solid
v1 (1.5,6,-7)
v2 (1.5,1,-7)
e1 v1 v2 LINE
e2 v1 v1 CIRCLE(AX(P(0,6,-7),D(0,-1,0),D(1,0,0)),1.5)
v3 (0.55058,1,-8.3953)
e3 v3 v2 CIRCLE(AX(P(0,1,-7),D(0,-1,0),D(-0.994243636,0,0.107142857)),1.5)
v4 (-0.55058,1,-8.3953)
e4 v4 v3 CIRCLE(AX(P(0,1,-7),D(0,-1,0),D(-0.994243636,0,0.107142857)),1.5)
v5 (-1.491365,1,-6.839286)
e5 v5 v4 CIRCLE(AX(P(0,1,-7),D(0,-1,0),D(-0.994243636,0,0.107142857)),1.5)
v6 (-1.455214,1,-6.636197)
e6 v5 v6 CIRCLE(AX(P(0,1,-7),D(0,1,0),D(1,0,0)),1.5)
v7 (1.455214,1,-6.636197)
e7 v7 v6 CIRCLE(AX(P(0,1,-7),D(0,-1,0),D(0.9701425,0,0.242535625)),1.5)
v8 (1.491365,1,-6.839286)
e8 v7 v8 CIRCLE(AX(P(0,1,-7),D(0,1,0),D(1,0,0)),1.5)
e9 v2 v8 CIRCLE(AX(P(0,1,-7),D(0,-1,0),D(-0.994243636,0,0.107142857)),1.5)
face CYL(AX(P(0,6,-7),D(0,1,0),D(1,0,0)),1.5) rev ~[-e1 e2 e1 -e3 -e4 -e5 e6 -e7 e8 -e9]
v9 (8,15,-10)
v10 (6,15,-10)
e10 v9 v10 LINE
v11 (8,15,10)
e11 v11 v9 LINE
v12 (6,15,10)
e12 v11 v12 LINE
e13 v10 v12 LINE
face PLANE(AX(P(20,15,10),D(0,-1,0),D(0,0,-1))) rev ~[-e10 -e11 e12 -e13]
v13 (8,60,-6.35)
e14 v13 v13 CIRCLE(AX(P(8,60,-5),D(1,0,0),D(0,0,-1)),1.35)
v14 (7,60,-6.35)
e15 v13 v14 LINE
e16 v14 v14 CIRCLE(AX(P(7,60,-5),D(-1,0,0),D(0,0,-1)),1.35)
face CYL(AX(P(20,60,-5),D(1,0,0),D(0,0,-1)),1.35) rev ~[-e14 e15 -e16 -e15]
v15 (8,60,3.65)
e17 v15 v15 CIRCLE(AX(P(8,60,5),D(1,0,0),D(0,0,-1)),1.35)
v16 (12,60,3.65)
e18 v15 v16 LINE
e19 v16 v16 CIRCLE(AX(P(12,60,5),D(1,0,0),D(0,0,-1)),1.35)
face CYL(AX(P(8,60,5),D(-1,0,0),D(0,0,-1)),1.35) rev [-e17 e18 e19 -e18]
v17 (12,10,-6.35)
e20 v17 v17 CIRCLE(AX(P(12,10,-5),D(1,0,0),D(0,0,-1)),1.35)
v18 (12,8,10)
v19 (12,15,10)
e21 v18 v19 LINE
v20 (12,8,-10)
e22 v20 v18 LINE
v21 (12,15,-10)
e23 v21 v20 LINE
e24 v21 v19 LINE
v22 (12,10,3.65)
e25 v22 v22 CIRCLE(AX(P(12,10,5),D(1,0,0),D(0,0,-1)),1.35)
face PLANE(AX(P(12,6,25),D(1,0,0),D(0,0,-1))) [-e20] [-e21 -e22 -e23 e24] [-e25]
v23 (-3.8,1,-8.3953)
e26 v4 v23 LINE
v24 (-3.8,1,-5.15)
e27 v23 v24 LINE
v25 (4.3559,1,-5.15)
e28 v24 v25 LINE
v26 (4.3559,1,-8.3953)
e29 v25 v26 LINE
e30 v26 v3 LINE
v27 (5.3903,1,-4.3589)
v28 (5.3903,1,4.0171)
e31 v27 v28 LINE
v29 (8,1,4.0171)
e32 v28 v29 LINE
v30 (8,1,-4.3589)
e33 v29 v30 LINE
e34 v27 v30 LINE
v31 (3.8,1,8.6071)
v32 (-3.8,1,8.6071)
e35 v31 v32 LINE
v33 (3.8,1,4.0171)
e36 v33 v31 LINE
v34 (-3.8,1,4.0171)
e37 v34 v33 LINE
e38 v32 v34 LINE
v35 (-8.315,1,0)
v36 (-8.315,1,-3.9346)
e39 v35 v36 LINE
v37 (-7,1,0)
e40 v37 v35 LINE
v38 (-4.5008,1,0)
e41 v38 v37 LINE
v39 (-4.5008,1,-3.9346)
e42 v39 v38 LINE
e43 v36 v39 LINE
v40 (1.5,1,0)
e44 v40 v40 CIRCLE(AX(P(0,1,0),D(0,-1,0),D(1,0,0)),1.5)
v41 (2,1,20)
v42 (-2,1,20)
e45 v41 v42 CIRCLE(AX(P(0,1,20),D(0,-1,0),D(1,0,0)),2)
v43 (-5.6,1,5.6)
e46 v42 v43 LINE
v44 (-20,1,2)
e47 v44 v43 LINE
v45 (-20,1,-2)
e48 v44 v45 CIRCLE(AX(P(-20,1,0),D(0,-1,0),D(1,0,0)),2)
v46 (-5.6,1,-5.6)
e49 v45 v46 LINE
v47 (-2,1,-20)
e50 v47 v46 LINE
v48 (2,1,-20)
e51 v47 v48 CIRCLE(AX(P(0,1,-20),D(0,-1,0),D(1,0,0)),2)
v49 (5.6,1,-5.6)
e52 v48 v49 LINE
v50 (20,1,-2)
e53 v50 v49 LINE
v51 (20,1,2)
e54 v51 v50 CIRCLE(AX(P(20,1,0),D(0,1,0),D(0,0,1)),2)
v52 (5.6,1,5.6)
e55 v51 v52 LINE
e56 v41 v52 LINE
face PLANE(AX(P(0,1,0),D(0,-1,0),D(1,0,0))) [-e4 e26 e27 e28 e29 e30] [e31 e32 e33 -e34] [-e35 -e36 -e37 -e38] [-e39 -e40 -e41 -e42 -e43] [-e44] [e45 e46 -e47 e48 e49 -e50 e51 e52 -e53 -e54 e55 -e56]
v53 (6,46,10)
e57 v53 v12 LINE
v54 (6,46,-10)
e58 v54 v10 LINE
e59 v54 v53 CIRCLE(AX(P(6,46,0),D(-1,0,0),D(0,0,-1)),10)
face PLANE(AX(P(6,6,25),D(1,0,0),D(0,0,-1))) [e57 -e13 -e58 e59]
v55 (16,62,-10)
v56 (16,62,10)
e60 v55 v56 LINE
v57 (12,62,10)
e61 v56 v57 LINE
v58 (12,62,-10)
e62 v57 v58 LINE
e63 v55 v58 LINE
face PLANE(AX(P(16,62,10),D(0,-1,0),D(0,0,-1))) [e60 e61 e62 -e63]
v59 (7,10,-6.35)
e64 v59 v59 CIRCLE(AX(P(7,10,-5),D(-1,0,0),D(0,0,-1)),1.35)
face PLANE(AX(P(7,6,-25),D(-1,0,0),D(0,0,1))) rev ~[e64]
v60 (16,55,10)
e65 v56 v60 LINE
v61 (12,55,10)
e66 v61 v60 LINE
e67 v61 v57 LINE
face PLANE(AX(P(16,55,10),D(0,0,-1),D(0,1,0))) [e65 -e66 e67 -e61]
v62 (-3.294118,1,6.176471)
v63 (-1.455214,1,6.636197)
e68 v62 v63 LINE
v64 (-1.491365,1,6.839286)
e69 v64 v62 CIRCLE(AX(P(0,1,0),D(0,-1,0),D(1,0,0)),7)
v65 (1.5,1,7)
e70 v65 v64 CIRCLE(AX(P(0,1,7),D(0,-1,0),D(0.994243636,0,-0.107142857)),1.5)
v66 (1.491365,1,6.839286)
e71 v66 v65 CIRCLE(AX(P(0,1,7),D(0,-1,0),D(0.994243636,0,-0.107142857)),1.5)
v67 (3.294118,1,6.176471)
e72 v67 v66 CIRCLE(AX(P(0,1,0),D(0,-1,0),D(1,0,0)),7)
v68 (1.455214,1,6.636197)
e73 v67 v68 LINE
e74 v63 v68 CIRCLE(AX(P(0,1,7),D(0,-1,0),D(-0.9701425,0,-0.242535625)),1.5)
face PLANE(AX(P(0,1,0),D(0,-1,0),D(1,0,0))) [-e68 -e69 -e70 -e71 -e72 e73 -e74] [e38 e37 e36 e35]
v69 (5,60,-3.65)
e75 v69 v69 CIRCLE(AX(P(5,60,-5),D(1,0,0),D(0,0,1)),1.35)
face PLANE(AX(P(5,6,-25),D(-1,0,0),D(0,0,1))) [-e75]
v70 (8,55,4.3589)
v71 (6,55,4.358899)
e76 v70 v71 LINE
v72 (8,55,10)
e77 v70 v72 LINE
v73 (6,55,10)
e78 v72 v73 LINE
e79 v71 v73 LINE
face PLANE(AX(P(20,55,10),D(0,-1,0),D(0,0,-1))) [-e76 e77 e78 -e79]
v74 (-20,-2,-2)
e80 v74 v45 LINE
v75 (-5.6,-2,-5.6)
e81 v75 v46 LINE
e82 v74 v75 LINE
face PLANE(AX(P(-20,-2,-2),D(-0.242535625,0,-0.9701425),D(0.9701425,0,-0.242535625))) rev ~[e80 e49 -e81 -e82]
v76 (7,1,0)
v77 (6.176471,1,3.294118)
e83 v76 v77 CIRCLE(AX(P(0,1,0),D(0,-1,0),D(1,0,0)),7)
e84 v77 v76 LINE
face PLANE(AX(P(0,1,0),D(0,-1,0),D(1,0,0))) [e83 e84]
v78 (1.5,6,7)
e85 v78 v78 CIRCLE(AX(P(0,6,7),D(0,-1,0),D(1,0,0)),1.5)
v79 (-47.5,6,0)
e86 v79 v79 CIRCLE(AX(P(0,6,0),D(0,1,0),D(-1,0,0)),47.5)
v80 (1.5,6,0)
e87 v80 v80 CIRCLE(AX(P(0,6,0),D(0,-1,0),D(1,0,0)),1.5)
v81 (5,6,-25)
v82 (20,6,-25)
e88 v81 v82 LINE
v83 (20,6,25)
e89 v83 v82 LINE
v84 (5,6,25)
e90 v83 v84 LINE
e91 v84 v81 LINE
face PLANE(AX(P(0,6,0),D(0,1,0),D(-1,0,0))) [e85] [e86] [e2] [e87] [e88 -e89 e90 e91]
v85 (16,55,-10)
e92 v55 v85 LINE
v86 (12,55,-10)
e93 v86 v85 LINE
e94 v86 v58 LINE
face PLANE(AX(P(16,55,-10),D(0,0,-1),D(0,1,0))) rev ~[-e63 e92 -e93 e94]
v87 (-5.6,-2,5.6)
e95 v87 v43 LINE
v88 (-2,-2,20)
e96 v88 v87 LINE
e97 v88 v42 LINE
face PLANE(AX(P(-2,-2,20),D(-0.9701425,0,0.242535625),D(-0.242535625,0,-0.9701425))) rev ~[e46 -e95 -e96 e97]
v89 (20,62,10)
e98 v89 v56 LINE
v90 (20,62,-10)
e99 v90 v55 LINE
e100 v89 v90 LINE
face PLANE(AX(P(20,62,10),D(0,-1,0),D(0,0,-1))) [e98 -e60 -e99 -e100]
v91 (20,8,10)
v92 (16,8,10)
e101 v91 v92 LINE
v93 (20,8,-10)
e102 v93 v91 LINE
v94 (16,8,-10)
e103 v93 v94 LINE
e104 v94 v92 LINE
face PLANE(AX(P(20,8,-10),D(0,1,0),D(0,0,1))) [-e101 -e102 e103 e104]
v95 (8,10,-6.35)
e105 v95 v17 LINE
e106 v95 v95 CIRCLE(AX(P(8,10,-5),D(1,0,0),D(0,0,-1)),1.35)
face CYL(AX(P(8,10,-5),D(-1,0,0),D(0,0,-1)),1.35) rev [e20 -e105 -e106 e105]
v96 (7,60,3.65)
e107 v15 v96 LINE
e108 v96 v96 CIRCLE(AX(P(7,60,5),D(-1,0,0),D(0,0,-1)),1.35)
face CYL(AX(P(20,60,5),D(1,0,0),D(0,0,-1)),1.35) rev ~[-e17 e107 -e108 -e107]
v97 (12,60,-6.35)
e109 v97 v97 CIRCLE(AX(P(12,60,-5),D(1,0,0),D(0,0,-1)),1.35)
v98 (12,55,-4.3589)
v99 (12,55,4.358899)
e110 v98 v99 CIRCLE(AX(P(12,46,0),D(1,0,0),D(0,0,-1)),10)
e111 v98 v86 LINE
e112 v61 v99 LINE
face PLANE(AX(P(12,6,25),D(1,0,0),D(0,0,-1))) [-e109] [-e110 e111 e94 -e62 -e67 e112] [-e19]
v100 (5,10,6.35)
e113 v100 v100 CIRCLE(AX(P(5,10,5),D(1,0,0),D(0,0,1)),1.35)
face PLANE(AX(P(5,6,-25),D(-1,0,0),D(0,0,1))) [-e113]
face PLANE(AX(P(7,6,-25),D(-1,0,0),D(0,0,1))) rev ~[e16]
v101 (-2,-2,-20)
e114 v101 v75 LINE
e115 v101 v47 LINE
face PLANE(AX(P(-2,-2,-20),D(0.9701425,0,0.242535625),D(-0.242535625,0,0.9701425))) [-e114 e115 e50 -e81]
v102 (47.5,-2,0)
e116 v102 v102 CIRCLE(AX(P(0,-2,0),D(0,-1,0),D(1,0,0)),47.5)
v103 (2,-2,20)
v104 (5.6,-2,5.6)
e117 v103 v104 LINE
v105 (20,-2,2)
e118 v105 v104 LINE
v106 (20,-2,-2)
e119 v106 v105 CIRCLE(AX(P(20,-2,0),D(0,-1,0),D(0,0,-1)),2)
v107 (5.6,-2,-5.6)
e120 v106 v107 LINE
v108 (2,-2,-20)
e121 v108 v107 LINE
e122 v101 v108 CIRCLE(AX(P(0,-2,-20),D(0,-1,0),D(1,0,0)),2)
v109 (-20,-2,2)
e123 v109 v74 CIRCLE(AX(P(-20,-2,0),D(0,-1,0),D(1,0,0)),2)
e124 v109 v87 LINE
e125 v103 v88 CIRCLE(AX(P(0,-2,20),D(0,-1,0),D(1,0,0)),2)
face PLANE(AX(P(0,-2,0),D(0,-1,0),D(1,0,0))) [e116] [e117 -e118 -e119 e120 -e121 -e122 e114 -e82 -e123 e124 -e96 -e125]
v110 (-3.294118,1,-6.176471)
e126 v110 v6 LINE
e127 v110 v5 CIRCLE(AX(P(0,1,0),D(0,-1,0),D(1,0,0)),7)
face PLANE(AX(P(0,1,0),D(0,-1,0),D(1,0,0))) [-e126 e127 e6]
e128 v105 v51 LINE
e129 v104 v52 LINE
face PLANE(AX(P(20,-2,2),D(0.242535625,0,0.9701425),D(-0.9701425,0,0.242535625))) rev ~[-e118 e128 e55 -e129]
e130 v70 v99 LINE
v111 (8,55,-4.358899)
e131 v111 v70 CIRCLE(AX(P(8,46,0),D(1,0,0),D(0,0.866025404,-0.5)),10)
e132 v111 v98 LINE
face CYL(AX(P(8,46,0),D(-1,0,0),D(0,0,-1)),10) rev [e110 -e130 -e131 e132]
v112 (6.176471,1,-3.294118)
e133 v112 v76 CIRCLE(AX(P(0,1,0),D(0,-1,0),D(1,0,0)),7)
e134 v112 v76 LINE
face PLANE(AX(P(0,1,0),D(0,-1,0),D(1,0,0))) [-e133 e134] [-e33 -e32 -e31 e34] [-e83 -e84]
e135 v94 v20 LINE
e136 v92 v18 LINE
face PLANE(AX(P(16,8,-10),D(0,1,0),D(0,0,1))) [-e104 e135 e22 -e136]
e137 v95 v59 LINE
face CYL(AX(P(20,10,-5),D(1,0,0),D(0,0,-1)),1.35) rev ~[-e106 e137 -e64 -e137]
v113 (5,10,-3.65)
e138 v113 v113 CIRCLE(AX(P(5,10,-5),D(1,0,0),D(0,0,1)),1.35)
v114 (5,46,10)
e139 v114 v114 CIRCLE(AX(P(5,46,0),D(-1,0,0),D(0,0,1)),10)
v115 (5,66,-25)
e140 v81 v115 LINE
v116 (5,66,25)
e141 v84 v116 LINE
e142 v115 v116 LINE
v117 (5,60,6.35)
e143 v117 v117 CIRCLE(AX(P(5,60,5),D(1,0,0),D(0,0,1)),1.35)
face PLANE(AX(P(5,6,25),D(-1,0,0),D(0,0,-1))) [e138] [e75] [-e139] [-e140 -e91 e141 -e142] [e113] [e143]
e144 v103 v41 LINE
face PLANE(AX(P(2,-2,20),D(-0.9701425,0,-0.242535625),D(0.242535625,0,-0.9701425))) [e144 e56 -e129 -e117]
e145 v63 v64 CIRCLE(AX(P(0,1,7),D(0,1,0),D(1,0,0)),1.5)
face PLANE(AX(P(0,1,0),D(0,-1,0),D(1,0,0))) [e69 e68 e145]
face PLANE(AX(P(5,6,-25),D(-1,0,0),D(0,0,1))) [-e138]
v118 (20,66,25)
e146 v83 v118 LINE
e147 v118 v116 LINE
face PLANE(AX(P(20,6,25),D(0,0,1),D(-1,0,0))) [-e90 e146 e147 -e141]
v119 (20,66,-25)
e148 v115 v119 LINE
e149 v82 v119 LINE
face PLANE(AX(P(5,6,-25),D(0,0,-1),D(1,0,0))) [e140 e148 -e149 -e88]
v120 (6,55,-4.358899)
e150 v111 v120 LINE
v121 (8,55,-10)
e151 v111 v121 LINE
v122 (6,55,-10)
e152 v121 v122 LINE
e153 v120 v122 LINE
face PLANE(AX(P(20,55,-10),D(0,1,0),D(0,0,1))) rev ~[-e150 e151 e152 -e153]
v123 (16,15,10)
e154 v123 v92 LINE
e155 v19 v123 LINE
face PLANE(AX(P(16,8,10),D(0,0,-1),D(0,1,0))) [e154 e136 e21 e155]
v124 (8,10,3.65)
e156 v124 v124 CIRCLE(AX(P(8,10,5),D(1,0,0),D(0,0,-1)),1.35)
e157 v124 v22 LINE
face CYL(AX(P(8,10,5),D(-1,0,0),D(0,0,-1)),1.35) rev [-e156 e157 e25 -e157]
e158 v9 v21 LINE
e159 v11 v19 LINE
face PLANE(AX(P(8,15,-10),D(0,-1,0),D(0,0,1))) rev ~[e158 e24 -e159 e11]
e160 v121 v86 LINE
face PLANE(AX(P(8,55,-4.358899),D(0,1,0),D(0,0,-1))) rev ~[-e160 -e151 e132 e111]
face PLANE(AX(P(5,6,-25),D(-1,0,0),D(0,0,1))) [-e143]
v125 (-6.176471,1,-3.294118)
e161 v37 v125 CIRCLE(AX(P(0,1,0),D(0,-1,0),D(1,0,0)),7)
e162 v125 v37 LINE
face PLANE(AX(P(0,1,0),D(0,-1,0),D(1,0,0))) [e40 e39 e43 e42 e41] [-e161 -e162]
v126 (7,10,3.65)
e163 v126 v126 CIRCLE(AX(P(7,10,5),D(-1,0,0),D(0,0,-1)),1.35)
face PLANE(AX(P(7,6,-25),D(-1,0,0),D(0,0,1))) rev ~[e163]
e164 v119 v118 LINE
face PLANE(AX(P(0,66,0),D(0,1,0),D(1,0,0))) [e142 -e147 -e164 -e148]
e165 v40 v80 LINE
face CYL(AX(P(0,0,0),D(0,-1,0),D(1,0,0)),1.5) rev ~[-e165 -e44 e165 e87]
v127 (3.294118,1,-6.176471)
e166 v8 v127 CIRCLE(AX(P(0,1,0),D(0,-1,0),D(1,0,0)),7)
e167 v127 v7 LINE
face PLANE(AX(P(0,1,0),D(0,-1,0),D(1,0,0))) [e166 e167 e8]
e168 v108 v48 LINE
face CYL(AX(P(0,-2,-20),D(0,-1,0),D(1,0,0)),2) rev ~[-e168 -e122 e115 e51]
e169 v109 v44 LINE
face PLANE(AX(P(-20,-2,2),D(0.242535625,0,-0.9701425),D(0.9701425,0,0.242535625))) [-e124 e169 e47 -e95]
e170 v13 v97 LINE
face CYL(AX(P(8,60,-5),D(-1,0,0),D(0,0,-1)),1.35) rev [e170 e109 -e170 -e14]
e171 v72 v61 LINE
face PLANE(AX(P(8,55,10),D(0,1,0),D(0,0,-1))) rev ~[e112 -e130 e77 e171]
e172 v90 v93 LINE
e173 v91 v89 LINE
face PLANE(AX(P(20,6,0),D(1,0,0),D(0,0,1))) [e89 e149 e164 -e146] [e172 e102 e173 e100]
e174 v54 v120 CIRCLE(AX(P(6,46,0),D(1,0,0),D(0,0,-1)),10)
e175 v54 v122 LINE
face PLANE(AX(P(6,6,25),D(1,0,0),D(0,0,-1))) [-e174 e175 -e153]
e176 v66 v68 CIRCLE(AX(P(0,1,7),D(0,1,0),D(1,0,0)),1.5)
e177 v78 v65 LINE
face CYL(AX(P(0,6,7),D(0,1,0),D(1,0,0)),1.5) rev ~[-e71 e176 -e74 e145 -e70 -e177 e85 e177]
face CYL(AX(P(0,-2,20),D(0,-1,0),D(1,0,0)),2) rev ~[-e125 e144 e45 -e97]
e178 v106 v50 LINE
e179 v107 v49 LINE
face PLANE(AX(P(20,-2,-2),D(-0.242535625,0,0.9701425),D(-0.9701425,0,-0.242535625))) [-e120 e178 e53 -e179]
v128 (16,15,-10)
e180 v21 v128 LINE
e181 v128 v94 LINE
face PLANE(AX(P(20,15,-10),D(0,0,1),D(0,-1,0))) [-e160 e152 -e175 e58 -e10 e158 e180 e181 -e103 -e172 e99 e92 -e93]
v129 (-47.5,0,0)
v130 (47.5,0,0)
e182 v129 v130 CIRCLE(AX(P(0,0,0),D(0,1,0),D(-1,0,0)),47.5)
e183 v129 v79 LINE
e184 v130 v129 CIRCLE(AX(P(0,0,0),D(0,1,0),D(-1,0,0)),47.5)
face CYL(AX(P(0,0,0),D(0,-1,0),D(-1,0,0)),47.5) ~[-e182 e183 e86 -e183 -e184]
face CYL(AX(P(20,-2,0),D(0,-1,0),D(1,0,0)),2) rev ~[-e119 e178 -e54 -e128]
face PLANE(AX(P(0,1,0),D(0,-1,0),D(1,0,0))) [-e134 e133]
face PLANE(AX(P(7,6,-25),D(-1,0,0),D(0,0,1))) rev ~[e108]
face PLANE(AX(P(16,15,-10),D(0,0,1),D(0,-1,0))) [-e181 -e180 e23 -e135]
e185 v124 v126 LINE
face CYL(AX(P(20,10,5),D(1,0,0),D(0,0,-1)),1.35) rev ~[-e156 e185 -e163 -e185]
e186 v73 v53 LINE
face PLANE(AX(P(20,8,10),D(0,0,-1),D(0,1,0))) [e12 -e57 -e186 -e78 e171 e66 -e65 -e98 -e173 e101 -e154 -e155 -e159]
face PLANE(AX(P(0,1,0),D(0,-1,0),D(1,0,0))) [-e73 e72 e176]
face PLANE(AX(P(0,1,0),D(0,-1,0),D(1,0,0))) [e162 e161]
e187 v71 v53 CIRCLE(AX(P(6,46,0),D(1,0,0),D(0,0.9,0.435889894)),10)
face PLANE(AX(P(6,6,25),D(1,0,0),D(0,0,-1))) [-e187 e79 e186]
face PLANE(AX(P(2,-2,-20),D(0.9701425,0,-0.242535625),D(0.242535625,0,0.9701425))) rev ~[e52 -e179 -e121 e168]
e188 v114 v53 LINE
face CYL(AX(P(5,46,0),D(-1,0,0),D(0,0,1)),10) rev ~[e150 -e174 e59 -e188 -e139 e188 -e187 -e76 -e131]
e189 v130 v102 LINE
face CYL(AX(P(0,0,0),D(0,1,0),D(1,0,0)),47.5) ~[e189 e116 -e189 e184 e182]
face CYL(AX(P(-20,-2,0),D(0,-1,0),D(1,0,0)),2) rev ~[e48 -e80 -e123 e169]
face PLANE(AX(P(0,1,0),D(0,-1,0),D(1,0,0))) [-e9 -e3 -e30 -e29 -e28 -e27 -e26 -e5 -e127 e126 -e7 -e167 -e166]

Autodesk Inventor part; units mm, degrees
ref_plane "YZ Plane" through (0, 0, 0) normal (1, 0, 0) x (0, 1, 0)
ref_plane "XZ Plane" through (0, 0, 0) normal (0, 1, 0) x (-1, 0, 0)
ref_plane "XY Plane" through (0, 0, 0) normal (0, 0, 1) x (1, 0, 0)
sketch "Sketch1" plane through (0, 0, 0) normal (0, 1, 0) x (-1, 0, 0)
  circle A0 centre (0, 0) radius 47.5
  dimension "d0" = 95
extrude "Extrusion1" add sketch "Sketch1" along normal blind 6
sketch "Sketch2" plane through (0, 6, 0) normal (0, 1, 0) x (1, 0, 0)
  circle A0 centre (0, 0) radius 7
  circle A1 centre (0, -7) radius 1.5
  circle A2 centre (0, 7) radius 1.5
  dimension "d3" = 14
  dimension "d4" = 3
  dimension "d5" = 3
extrude "Extrusion2" cut sketch "Sketch2" against normal blind 6 contours A2 A0 | A0 A2 | A1 A0 | A0 A1
sketch "Sketch3" plane through (0, 6, 0) normal (0, 1, 0) x (1, 0, 0)
  line L0 (0, 0) -> (5, 0)
  line L1 (5, 0) -> (5, -10)
  line L2 (5, -10) -> (0, -10)
  line L3 (0, -10) -> (0, 0)
  line L4 (5, 0) -> (0, 0)
  line L5 (0, 0) -> (0, 10)
  line L6 (0, 10) -> (5, 10)
  line L7 (5, 10) -> (5, 0)
  line L8 (5, 0) -> (20, 0)
  line L9 (20, 0) -> (20, -25)
  line L10 (20, -25) -> (5, -25)
  line L11 (5, -25) -> (5, 0)
  line L12 (20, 0) -> (5, 0)
  line L13 (5, 0) -> (5, 25)
  line L14 (5, 25) -> (20, 25)
  line L15 (20, 25) -> (20, 0)
  dimension "d8" = 5
  dimension "d9" = 10
  dimension "d10" = 10
  dimension "d11" = 15
  dimension "d12" = 25
  dimension "d13" = 25
extrude "Extrusion3" add sketch "Sketch3" along normal blind 60 contours L8 L9 L10 L11 L1 | L7 L13 L14 L15 L8
sketch "Sketch4" plane through (5, 6, -25) normal (-1, 0, 0) x (0, 0, 1)
  line L0 (50, 0) -> (50, 60) projected
  line L1 (50, 0) -> (48, 0)
  line L2 (48, 0) -> (48, 40)
  line L3 (48, 40) -> (50, 40)
  line L4 (50, 40) -> (50, 0)
  circle A0 centre (25, 40) radius 10
  point P0 (25, -6)
  dimension "d16" = 2
  dimension "d17" = 40
  dimension "d18" = 20
extrude "Extrusion4" cut sketch "Sketch4" against normal blind 20 contours A0
sketch "Sketch5" plane through (20, 6, 25) normal (1, 0, 0) x (0, 0, -1)
  circle A0 centre (25, 40) radius 10 projected
  line L0 (25, 40) -> (30, 40)
  line L1 (30, 40) -> (30, 4)
  line L2 (30, 4) -> (25, 4)
  line L3 (25, 4) -> (25, 40)
  line L4 (25, 40) -> (20, 40)
  line L5 (20, 40) -> (20, 4)
  line L6 (20, 4) -> (25, 4)
  line L7 (25, 4) -> (25, 40)
  circle A1 centre (20, 4) radius 1.35
  circle A2 centre (30, 4) radius 1.35
  point P0 (25, -6)
  dimension "d21" = 5
  dimension "d22" = 36
  dimension "d23" = 5
  dimension "d24" = 36
  dimension "d25" = 2.7
  dimension "d26" = 2.7
extrude "Extrusion5" cut sketch "Sketch5" against normal blind 20 contours A1 L6 L5 | L5 L6 A1 | A2 L2 L1 | L1 L2 A2
sketch "Sketch6" plane through (20, 6, 25) normal (1, 0, 0) x (0, 0, -1)
  line L0 (25, 40) -> (30, 40)
  line L1 (30, 40) -> (30, 54)
  line L2 (30, 54) -> (25, 54)
  line L3 (25, 54) -> (25, 40)
  line L4 (25, 40) -> (20, 40)
  line L5 (20, 40) -> (20, 54)
  line L6 (20, 54) -> (25, 54)
  line L7 (25, 54) -> (25, 40)
  circle A0 centre (20, 54) radius 1.35
  circle A1 centre (30, 54) radius 1.35
  point P0 (25, -6)
  dimension "d29" = 5
  dimension "d30" = 14
  dimension "d31" = 5
  dimension "d32" = 14
  dimension "d33" = 2.7
  dimension "d34" = 2.7
extrude "Extrusion6" cut sketch "Sketch6" against normal blind 20 contours A1 L2 L1 | L1 L2 A1 | A0 L5 L6 | L6 L5 A0
sketch "Sketch7" plane through (20, 6, 25) normal (1, 0, 0) x (0, 0, -1)
  line L0 (20, 54) -> (30, 54)
  line L1 (30, 54) -> (30, 4)
  line L2 (30, 4) -> (20, 4)
  line L3 (20, 4) -> (20, 54)
  circle A0 centre (20, 54) radius 1.35 projected
  line L4 (0, 0) -> (0, 60) projected
  line L5 (20, 54) -> (0, 54)
  line L6 (0, 54) -> (0, 49)
  line L7 (0, 49) -> (20, 49)
  line L8 (20, 49) -> (20, 54)
  circle A1 centre (25, 40) radius 10 projected
  line L9 (25, 40) -> (15, 40)
  line L10 (15, 40) -> (15, 30)
  line L11 (15, 30) -> (25, 30)
  line L12 (25, 30) -> (25, 40)
  line L13 (25, 40) -> (35, 40)
  line L14 (35, 40) -> (35, 30)
  line L15 (35, 30) -> (25, 30)
  line L16 (25, 30) -> (25, 40)
  line L17 (35, 40) -> (15, 40)
  line L18 (15, 40) -> (15, 9)
  line L19 (15, 9) -> (35, 9)
  line L20 (35, 9) -> (35, 40)
  line L21 (15, 9) -> (35, 9)
  line L22 (35, 9) -> (35, 49)
  line L23 (35, 49) -> (15, 49)
  line L24 (15, 49) -> (15, 9)
  point P0 (25, -6)
  point P1 (30, 49)
  point P2 (30, 48.6603)
  point P3 (15, 49)
  point P4 (20, 48.6603)
  dimension "d37" = 10
  dimension "d38" = 50
  dimension "d39" = 5
  dimension "d40" = 10
  dimension "d41" = 10
  dimension "d42" = 10
  dimension "d43" = 31
  dimension "d44" = 40
extrude "Extrusion7" cut sketch "Sketch7" against normal blind 14 contours L3 A1 L24 L7 | L23 L22 A1 L1 | A1 L3 L11 L10 | L14 L15 L1 A1 | A1 L11 L3 | L11 L3 L19 L18 | L1 L15 A1 | L20 L19 L1 L15 | L11 L15 L1 L19 L3
sketch "Sketch8" plane through (20, 6, 25) normal (1, 0, 0) x (0, 0, -1)
  line L0 (15, 40) -> (15, 49) projected
  line L1 (15, 49) -> (35, 49)
  line L2 (35, 49) -> (35, 56)
  line L3 (35, 56) -> (15, 56)
  line L4 (15, 56) -> (15, 49)
  line L5 (35, 9) -> (15, 9) projected
  line L6 (15, 9) -> (35, 9)
  line L7 (35, 9) -> (35, 2)
  line L8 (35, 2) -> (15, 2)
  line L9 (15, 2) -> (15, 9)
  point P0 (25, -6)
  dimension "d47" = 20
  dimension "d48" = 7
  dimension "d49" = 20
  dimension "d50" = 7
sketch "Sketch9" plane through (20, 6, 25) normal (1, 0, 0) x (0, 0, -1)
  line L0 (15, 40) -> (15, 49) projected
  circle A0 centre (25, 40) radius 10 projected
  line L1 (15, 49) -> (35, 49)
  line L2 (35, 49) -> (35, 40)
  line L3 (35, 40) -> (15, 40)
  line L4 (15, 40) -> (15, 49)
  line L5 (15, 49) -> (20, 49) projected
  line L6 (20, 49) -> (20.777, 49)
  line L7 (20.777, 49) -> (20.777, 48.469)
  line L8 (20.777, 48.469) -> (20, 48.469)
  line L9 (20, 48.469) -> (20, 49)
  line L10 (30, 49) -> (35, 49) projected
  line L11 (30, 49) -> (29.2041, 49)
  line L12 (29.2041, 49) -> (29.2041, 48.469)
  line L13 (29.2041, 48.469) -> (30, 48.469)
  line L14 (30, 48.469) -> (30, 49)
  line L15 (35, 49) -> (35, 9) projected
  line L16 (15, 56) -> (35, 56)
  line L17 (35, 56) -> (35, 49)
  line L18 (35, 49) -> (15, 49)
  line L19 (15, 49) -> (15, 56)
  line L20 (15, 9) -> (15, 49) projected
  line L21 (15, 9) -> (35, 9)
  line L22 (35, 9) -> (35, 2)
  line L23 (35, 2) -> (15, 2)
  line L24 (15, 2) -> (15, 9)
  point P0 (25, -6)
  point P1 (20, 48.6603)
  point P2 (30, 48.6603)
  dimension "d51" = 7
extrude "Extrusion8" cut sketch "Sketch9" against normal blind 12 contours L19 L16 L17 L1 A0 | L9 L1 A0 | L21 L22 L23 L24 | A0 L1 L14
sketch "Sketch10" plane through (8, 60, -5) normal (1, 0, 0) x (0, 0, -1)
  line L0 (-10, -5) -> (-10, -5.3397) projected
  line L1 (-10, -5) -> (0, -5)
  line L2 (0, -5) -> (0, -5.5581)
  line L3 (0, -5.5581) -> (-10, -5.5581)
  line L4 (-10, -5.5581) -> (-10, -5)
  point P0 (-5, -60)
extrude "Extrusion9" cut sketch "Sketch10" against normal blind 2
sketch "Sketch11" plane through (5, 6, -25) normal (-1, 0, 0) x (0, 0, 1)
  point P0 (25, -6)
sketch "Sketch12" plane through (0, 0, 0) normal (0, -1, 0) x (1, 0, 0)
  circle A0 centre (0, 0) radius 1.5
  dimension "d56" = 3
extrude "Extrusion10" cut sketch "Sketch12" against normal blind 13.8125
sketch "Sketch13" plane through (0, 0, 0) normal (0, -1, 0) x (1, 0, 0)
  circle A0 centre (0, 0) radius 1.5 projected
  circle A1 centre (0, 0) radius 47.5
  circle A2 centre (0, 7) radius 1.5 projected
  circle A3 centre (0, 7) radius 1.5
  circle A4 centre (0, 0) radius 1.5
  circle A5 centre (0, -7) radius 1.5 projected
  circle A6 centre (0, -7) radius 1.5
  dimension "d59" = 3
extrude "Extrusion11" add sketch "Sketch13" along normal blind 2
sketch "Sketch14" plane through (0, -2, 0) normal (0, -1, 0) x (1, 0, 0)
  circle A0 centre (0, 0) radius 1.5 projected
  circle A1 centre (0, 0) radius 7
  line L0 (0, 0) -> (0, -20)
  line L1 (0, -20) -> (0, 20)
  line L2 (0, 0) -> (20, 0)
  line L3 (20, 0) -> (-20, 0)
  circle A2 centre (0, 20) radius 2
  circle A3 centre (-20, 0) radius 2
  circle A4 centre (0, -20) radius 2
  circle A5 centre (20, 0) radius 2
  line L4 (2, 20) -> (7, 0)
  line L5 (-2, 20) -> (-7, 0)
  line L6 (20, 25) -> (20, -25) projected
  circle A6 centre (0, 7) radius 1.5 projected
  line L7 (20, 2) -> (0, 7)
  circle A7 centre (0, -7) radius 1.5 projected
  line L8 (20, -2) -> (0, -7)
  line L9 (2, -20) -> (7, 0)
  line L10 (-2, -20) -> (-7, 0)
  line L11 (-20, 2) -> (0, 7)
  line L12 (-20, -2) -> (0, -7)
  point P0 (6.1765, 3.2941)
  point P1 (6.1765, -3.2941)
  point P2 (-6.1765, -3.2941)
  point P3 (3.2941, -6.1765)
  point P4 (1.4914, -6.8393)
  point P5 (-1.4914, -6.8393)
  point P6 (-3.2941, -6.1765)
  point P7 (-1.4552, -6.6362)
  point P8 (1.4552, -6.6362)
  point P9 (3.2941, 6.1765)
  point P10 (1.4552, 6.6362)
  point P11 (-1.4552, 6.6362)
  point P12 (-3.2941, 6.1765)
  point P13 (-1.4914, 6.8393)
  point P14 (1.4914, 6.8393)
  point P15 (5.6, 5.6)
  point P16 (-5.6, 5.6)
  point P17 (-5.6, -5.6)
  point P18 (5.6, -5.6)
  dimension "d62" = 14
  dimension "d63" = 20
  dimension "d64" = 40
  dimension "d65" = 20
  dimension "d66" = 40
  dimension "d67" = 4
  dimension "d68" = 4
  dimension "d69" = 4
  dimension "d70" = 4
extrude "Extrusion12" cut sketch "Sketch14" against normal blind 3 contours L2 L9 A1 L8 A7 L0 A0 | A0 L1 A6 L7 A1 L4 L2 | A0 L3 L5 A1 L11 A6 L1 | L0 A7 L12 A1 L10 L3 A0 | L2 A5 L8 L9 A1 | A1 L4 L7 A5 L2 | A1 L7 L4 | L9 L8 A1 | A5 L6 L2 | L2 L6 A5 | L3 A3 L11 L5 A1 | A1 L10 L12 A3 L3 | A1 L5 | A1 A6 L1 A2 L4 L7 | L8 L9 A4 L0 A7 A1 | L6 A5 | L5 L11 A1 | A1 L12 L10 | A3 | A1 L11 L5 A2 L1 A6 | A7 L0 A4 L10 L12 A1 | A2 | A4
sketch "Sketch16" plane through (0, -2, 0) normal (0, -1, 0) x (1, 0, 0)
  line L0 (-8.315, -3.9346) -> (-4.5008, -3.9346)
  line L1 (-4.5008, -3.9346) -> (-4.5008, 0)
  line L2 (-4.5008, 0) -> (-8.315, 0)
  line L3 (-8.315, 0) -> (-8.315, -3.9346)
  line L4 (-3.8, -5.15) -> (4.3559, -5.15)
  line L5 (4.3559, -5.15) -> (4.3559, -8.3953)
  line L6 (4.3559, -8.3953) -> (-3.8, -8.3953)
  line L7 (-3.8, -8.3953) -> (-3.8, -5.15)
  line L8 (-3.8, 4.0171) -> (3.8, 4.0171)
  line L9 (3.8, 4.0171) -> (3.8, 8.6071)
  line L10 (3.8, 8.6071) -> (-3.8, 8.6071)
  line L11 (-3.8, 8.6071) -> (-3.8, 4.0171)
  line L12 (6, -4.3589) -> (8, -4.3589) projected
  line L13 (5.3903, 4.0171) -> (8, 4.0171)
  line L14 (8, 4.0171) -> (8, -4.3589)
  line L15 (8, -4.3589) -> (5.3903, -4.3589)
  line L16 (5.3903, -4.3589) -> (5.3903, 4.0171)
  point P0 (0, 0)
extrude "Extrusion13" cut sketch "Sketch16" against normal blind 3
sketch "Sketch17" plane through (8, 6, 25) normal (1, 0, 0) x (0, 0, -1)
  point P0 (25, -6)
sketch "Sketch18" plane through (6, 15, 10) normal (0, 0, -1) x (-1, 0, 0)
  point P0 (6, -15)
sketch "Sketch19" plane through (6, 15, 10) normal (0, 1, 0) x (1, 0, 0)
  point P0 (-6, 10)
sketch "Sketch20" plane through (8, 6, 25) normal (1, 0, 0) x (0, 0, -1)
  line L0 (35, 56) -> (35, 2) projected
  line L1 (15, 49) -> (20.6411, 49) projected
  line L2 (35, 56) -> (15, 56)
  line L3 (15, 56) -> (15, 49)
  line L4 (15, 49) -> (35, 49)
  line L5 (35, 49) -> (35, 56)
  circle A0 centre (25, 40) radius 10 projected
  circle A1 centre (25, 40) radius 10
  line L6 (35, 40) -> (35, 9) projected
  line L7 (35, 2) -> (15, 2) projected
  line L8 (35, 9) -> (15, 9)
  line L9 (15, 9) -> (15, 2)
  line L10 (15, 2) -> (35, 2)
  line L11 (35, 2) -> (35, 9)
  circle A2 centre (20, 54) radius 1.35 projected
  circle A3 centre (20, 54) radius 0.875
  circle A4 centre (30, 54) radius 1.35 projected
  circle A5 centre (30, 54) radius 0.875
  circle A6 centre (30, 4) radius 1.35 projected
  circle A7 centre (30, 4) radius 0.875
  circle A8 centre (20, 4) radius 1.35 projected
  circle A9 centre (20, 4) radius 0.875
  point P0 (25, -6)
  point P1 (29.3589, 49)
extrude "Extrusion14" add sketch "Sketch20" along normal blind 8 contours L0 L7 L9 L8 | L0 L4 A0 L1 L3 L2
sketch "Sketch21" plane through (5, 6, -25) normal (-1, 0, 0) x (0, 0, 1)
  circle A0 centre (30, 54) radius 1.35 projected
  circle A1 centre (30, 54) radius 1.35
  circle A2 centre (20, 54) radius 1.35 projected
  circle A3 centre (20, 54) radius 1.35
  circle A4 centre (30, 4) radius 1.35 projected
  circle A5 centre (30, 4) radius 1.35
  circle A6 centre (20, 4) radius 1.35 projected
  circle A7 centre (20, 4) radius 1.35
  point P0 (25, -6)
extrude "Extrusion15" add sketch "Sketch21" against normal blind 2
sketch "Sketch22" plane through (16, 6, 25) normal (1, 0, 0) x (0, 0, -1)
  line L0 (15, 56) -> (35, 56) projected
  line L1 (15, 49) -> (15, 56) projected
  line L2 (35, 56) -> (15, 56)
  line L3 (15, 56) -> (15, 49)
  line L4 (15, 49) -> (35, 49)
  line L5 (35, 49) -> (35, 56)
  arc A0 (35, 40) -> (29.3589, 49) centre (25, 40) ccw projected
  circle A1 centre (25, 40) radius 10
  line L6 (35, 9) -> (15, 9) projected
  line L7 (35, 2) -> (15, 2) projected
  line L8 (15, 9) -> (35, 9)
  line L9 (35, 9) -> (35, 2)
  line L10 (35, 2) -> (15, 2)
  line L11 (15, 2) -> (15, 9)
  circle A2 centre (30, 54) radius 1.35 projected
  circle A3 centre (30, 54) radius 1.35
  circle A4 centre (20, 54) radius 1.35 projected
  circle A5 centre (20, 54) radius 1.35
  circle A6 centre (30, 4) radius 1.35 projected
  circle A7 centre (30, 4) radius 1.35
  circle A8 centre (20, 4) radius 1.35 projected
  circle A9 centre (20, 4) radius 1.35
  point P0 (25, -6)
  point P1 (20.6411, 49)
extrude "Extrusion16" cut sketch "Sketch22" against normal blind 4 contours L0 L5 L4 A1 L1 | L9 L7 L11 L6
properties part number "FinalNewbaseTop"
